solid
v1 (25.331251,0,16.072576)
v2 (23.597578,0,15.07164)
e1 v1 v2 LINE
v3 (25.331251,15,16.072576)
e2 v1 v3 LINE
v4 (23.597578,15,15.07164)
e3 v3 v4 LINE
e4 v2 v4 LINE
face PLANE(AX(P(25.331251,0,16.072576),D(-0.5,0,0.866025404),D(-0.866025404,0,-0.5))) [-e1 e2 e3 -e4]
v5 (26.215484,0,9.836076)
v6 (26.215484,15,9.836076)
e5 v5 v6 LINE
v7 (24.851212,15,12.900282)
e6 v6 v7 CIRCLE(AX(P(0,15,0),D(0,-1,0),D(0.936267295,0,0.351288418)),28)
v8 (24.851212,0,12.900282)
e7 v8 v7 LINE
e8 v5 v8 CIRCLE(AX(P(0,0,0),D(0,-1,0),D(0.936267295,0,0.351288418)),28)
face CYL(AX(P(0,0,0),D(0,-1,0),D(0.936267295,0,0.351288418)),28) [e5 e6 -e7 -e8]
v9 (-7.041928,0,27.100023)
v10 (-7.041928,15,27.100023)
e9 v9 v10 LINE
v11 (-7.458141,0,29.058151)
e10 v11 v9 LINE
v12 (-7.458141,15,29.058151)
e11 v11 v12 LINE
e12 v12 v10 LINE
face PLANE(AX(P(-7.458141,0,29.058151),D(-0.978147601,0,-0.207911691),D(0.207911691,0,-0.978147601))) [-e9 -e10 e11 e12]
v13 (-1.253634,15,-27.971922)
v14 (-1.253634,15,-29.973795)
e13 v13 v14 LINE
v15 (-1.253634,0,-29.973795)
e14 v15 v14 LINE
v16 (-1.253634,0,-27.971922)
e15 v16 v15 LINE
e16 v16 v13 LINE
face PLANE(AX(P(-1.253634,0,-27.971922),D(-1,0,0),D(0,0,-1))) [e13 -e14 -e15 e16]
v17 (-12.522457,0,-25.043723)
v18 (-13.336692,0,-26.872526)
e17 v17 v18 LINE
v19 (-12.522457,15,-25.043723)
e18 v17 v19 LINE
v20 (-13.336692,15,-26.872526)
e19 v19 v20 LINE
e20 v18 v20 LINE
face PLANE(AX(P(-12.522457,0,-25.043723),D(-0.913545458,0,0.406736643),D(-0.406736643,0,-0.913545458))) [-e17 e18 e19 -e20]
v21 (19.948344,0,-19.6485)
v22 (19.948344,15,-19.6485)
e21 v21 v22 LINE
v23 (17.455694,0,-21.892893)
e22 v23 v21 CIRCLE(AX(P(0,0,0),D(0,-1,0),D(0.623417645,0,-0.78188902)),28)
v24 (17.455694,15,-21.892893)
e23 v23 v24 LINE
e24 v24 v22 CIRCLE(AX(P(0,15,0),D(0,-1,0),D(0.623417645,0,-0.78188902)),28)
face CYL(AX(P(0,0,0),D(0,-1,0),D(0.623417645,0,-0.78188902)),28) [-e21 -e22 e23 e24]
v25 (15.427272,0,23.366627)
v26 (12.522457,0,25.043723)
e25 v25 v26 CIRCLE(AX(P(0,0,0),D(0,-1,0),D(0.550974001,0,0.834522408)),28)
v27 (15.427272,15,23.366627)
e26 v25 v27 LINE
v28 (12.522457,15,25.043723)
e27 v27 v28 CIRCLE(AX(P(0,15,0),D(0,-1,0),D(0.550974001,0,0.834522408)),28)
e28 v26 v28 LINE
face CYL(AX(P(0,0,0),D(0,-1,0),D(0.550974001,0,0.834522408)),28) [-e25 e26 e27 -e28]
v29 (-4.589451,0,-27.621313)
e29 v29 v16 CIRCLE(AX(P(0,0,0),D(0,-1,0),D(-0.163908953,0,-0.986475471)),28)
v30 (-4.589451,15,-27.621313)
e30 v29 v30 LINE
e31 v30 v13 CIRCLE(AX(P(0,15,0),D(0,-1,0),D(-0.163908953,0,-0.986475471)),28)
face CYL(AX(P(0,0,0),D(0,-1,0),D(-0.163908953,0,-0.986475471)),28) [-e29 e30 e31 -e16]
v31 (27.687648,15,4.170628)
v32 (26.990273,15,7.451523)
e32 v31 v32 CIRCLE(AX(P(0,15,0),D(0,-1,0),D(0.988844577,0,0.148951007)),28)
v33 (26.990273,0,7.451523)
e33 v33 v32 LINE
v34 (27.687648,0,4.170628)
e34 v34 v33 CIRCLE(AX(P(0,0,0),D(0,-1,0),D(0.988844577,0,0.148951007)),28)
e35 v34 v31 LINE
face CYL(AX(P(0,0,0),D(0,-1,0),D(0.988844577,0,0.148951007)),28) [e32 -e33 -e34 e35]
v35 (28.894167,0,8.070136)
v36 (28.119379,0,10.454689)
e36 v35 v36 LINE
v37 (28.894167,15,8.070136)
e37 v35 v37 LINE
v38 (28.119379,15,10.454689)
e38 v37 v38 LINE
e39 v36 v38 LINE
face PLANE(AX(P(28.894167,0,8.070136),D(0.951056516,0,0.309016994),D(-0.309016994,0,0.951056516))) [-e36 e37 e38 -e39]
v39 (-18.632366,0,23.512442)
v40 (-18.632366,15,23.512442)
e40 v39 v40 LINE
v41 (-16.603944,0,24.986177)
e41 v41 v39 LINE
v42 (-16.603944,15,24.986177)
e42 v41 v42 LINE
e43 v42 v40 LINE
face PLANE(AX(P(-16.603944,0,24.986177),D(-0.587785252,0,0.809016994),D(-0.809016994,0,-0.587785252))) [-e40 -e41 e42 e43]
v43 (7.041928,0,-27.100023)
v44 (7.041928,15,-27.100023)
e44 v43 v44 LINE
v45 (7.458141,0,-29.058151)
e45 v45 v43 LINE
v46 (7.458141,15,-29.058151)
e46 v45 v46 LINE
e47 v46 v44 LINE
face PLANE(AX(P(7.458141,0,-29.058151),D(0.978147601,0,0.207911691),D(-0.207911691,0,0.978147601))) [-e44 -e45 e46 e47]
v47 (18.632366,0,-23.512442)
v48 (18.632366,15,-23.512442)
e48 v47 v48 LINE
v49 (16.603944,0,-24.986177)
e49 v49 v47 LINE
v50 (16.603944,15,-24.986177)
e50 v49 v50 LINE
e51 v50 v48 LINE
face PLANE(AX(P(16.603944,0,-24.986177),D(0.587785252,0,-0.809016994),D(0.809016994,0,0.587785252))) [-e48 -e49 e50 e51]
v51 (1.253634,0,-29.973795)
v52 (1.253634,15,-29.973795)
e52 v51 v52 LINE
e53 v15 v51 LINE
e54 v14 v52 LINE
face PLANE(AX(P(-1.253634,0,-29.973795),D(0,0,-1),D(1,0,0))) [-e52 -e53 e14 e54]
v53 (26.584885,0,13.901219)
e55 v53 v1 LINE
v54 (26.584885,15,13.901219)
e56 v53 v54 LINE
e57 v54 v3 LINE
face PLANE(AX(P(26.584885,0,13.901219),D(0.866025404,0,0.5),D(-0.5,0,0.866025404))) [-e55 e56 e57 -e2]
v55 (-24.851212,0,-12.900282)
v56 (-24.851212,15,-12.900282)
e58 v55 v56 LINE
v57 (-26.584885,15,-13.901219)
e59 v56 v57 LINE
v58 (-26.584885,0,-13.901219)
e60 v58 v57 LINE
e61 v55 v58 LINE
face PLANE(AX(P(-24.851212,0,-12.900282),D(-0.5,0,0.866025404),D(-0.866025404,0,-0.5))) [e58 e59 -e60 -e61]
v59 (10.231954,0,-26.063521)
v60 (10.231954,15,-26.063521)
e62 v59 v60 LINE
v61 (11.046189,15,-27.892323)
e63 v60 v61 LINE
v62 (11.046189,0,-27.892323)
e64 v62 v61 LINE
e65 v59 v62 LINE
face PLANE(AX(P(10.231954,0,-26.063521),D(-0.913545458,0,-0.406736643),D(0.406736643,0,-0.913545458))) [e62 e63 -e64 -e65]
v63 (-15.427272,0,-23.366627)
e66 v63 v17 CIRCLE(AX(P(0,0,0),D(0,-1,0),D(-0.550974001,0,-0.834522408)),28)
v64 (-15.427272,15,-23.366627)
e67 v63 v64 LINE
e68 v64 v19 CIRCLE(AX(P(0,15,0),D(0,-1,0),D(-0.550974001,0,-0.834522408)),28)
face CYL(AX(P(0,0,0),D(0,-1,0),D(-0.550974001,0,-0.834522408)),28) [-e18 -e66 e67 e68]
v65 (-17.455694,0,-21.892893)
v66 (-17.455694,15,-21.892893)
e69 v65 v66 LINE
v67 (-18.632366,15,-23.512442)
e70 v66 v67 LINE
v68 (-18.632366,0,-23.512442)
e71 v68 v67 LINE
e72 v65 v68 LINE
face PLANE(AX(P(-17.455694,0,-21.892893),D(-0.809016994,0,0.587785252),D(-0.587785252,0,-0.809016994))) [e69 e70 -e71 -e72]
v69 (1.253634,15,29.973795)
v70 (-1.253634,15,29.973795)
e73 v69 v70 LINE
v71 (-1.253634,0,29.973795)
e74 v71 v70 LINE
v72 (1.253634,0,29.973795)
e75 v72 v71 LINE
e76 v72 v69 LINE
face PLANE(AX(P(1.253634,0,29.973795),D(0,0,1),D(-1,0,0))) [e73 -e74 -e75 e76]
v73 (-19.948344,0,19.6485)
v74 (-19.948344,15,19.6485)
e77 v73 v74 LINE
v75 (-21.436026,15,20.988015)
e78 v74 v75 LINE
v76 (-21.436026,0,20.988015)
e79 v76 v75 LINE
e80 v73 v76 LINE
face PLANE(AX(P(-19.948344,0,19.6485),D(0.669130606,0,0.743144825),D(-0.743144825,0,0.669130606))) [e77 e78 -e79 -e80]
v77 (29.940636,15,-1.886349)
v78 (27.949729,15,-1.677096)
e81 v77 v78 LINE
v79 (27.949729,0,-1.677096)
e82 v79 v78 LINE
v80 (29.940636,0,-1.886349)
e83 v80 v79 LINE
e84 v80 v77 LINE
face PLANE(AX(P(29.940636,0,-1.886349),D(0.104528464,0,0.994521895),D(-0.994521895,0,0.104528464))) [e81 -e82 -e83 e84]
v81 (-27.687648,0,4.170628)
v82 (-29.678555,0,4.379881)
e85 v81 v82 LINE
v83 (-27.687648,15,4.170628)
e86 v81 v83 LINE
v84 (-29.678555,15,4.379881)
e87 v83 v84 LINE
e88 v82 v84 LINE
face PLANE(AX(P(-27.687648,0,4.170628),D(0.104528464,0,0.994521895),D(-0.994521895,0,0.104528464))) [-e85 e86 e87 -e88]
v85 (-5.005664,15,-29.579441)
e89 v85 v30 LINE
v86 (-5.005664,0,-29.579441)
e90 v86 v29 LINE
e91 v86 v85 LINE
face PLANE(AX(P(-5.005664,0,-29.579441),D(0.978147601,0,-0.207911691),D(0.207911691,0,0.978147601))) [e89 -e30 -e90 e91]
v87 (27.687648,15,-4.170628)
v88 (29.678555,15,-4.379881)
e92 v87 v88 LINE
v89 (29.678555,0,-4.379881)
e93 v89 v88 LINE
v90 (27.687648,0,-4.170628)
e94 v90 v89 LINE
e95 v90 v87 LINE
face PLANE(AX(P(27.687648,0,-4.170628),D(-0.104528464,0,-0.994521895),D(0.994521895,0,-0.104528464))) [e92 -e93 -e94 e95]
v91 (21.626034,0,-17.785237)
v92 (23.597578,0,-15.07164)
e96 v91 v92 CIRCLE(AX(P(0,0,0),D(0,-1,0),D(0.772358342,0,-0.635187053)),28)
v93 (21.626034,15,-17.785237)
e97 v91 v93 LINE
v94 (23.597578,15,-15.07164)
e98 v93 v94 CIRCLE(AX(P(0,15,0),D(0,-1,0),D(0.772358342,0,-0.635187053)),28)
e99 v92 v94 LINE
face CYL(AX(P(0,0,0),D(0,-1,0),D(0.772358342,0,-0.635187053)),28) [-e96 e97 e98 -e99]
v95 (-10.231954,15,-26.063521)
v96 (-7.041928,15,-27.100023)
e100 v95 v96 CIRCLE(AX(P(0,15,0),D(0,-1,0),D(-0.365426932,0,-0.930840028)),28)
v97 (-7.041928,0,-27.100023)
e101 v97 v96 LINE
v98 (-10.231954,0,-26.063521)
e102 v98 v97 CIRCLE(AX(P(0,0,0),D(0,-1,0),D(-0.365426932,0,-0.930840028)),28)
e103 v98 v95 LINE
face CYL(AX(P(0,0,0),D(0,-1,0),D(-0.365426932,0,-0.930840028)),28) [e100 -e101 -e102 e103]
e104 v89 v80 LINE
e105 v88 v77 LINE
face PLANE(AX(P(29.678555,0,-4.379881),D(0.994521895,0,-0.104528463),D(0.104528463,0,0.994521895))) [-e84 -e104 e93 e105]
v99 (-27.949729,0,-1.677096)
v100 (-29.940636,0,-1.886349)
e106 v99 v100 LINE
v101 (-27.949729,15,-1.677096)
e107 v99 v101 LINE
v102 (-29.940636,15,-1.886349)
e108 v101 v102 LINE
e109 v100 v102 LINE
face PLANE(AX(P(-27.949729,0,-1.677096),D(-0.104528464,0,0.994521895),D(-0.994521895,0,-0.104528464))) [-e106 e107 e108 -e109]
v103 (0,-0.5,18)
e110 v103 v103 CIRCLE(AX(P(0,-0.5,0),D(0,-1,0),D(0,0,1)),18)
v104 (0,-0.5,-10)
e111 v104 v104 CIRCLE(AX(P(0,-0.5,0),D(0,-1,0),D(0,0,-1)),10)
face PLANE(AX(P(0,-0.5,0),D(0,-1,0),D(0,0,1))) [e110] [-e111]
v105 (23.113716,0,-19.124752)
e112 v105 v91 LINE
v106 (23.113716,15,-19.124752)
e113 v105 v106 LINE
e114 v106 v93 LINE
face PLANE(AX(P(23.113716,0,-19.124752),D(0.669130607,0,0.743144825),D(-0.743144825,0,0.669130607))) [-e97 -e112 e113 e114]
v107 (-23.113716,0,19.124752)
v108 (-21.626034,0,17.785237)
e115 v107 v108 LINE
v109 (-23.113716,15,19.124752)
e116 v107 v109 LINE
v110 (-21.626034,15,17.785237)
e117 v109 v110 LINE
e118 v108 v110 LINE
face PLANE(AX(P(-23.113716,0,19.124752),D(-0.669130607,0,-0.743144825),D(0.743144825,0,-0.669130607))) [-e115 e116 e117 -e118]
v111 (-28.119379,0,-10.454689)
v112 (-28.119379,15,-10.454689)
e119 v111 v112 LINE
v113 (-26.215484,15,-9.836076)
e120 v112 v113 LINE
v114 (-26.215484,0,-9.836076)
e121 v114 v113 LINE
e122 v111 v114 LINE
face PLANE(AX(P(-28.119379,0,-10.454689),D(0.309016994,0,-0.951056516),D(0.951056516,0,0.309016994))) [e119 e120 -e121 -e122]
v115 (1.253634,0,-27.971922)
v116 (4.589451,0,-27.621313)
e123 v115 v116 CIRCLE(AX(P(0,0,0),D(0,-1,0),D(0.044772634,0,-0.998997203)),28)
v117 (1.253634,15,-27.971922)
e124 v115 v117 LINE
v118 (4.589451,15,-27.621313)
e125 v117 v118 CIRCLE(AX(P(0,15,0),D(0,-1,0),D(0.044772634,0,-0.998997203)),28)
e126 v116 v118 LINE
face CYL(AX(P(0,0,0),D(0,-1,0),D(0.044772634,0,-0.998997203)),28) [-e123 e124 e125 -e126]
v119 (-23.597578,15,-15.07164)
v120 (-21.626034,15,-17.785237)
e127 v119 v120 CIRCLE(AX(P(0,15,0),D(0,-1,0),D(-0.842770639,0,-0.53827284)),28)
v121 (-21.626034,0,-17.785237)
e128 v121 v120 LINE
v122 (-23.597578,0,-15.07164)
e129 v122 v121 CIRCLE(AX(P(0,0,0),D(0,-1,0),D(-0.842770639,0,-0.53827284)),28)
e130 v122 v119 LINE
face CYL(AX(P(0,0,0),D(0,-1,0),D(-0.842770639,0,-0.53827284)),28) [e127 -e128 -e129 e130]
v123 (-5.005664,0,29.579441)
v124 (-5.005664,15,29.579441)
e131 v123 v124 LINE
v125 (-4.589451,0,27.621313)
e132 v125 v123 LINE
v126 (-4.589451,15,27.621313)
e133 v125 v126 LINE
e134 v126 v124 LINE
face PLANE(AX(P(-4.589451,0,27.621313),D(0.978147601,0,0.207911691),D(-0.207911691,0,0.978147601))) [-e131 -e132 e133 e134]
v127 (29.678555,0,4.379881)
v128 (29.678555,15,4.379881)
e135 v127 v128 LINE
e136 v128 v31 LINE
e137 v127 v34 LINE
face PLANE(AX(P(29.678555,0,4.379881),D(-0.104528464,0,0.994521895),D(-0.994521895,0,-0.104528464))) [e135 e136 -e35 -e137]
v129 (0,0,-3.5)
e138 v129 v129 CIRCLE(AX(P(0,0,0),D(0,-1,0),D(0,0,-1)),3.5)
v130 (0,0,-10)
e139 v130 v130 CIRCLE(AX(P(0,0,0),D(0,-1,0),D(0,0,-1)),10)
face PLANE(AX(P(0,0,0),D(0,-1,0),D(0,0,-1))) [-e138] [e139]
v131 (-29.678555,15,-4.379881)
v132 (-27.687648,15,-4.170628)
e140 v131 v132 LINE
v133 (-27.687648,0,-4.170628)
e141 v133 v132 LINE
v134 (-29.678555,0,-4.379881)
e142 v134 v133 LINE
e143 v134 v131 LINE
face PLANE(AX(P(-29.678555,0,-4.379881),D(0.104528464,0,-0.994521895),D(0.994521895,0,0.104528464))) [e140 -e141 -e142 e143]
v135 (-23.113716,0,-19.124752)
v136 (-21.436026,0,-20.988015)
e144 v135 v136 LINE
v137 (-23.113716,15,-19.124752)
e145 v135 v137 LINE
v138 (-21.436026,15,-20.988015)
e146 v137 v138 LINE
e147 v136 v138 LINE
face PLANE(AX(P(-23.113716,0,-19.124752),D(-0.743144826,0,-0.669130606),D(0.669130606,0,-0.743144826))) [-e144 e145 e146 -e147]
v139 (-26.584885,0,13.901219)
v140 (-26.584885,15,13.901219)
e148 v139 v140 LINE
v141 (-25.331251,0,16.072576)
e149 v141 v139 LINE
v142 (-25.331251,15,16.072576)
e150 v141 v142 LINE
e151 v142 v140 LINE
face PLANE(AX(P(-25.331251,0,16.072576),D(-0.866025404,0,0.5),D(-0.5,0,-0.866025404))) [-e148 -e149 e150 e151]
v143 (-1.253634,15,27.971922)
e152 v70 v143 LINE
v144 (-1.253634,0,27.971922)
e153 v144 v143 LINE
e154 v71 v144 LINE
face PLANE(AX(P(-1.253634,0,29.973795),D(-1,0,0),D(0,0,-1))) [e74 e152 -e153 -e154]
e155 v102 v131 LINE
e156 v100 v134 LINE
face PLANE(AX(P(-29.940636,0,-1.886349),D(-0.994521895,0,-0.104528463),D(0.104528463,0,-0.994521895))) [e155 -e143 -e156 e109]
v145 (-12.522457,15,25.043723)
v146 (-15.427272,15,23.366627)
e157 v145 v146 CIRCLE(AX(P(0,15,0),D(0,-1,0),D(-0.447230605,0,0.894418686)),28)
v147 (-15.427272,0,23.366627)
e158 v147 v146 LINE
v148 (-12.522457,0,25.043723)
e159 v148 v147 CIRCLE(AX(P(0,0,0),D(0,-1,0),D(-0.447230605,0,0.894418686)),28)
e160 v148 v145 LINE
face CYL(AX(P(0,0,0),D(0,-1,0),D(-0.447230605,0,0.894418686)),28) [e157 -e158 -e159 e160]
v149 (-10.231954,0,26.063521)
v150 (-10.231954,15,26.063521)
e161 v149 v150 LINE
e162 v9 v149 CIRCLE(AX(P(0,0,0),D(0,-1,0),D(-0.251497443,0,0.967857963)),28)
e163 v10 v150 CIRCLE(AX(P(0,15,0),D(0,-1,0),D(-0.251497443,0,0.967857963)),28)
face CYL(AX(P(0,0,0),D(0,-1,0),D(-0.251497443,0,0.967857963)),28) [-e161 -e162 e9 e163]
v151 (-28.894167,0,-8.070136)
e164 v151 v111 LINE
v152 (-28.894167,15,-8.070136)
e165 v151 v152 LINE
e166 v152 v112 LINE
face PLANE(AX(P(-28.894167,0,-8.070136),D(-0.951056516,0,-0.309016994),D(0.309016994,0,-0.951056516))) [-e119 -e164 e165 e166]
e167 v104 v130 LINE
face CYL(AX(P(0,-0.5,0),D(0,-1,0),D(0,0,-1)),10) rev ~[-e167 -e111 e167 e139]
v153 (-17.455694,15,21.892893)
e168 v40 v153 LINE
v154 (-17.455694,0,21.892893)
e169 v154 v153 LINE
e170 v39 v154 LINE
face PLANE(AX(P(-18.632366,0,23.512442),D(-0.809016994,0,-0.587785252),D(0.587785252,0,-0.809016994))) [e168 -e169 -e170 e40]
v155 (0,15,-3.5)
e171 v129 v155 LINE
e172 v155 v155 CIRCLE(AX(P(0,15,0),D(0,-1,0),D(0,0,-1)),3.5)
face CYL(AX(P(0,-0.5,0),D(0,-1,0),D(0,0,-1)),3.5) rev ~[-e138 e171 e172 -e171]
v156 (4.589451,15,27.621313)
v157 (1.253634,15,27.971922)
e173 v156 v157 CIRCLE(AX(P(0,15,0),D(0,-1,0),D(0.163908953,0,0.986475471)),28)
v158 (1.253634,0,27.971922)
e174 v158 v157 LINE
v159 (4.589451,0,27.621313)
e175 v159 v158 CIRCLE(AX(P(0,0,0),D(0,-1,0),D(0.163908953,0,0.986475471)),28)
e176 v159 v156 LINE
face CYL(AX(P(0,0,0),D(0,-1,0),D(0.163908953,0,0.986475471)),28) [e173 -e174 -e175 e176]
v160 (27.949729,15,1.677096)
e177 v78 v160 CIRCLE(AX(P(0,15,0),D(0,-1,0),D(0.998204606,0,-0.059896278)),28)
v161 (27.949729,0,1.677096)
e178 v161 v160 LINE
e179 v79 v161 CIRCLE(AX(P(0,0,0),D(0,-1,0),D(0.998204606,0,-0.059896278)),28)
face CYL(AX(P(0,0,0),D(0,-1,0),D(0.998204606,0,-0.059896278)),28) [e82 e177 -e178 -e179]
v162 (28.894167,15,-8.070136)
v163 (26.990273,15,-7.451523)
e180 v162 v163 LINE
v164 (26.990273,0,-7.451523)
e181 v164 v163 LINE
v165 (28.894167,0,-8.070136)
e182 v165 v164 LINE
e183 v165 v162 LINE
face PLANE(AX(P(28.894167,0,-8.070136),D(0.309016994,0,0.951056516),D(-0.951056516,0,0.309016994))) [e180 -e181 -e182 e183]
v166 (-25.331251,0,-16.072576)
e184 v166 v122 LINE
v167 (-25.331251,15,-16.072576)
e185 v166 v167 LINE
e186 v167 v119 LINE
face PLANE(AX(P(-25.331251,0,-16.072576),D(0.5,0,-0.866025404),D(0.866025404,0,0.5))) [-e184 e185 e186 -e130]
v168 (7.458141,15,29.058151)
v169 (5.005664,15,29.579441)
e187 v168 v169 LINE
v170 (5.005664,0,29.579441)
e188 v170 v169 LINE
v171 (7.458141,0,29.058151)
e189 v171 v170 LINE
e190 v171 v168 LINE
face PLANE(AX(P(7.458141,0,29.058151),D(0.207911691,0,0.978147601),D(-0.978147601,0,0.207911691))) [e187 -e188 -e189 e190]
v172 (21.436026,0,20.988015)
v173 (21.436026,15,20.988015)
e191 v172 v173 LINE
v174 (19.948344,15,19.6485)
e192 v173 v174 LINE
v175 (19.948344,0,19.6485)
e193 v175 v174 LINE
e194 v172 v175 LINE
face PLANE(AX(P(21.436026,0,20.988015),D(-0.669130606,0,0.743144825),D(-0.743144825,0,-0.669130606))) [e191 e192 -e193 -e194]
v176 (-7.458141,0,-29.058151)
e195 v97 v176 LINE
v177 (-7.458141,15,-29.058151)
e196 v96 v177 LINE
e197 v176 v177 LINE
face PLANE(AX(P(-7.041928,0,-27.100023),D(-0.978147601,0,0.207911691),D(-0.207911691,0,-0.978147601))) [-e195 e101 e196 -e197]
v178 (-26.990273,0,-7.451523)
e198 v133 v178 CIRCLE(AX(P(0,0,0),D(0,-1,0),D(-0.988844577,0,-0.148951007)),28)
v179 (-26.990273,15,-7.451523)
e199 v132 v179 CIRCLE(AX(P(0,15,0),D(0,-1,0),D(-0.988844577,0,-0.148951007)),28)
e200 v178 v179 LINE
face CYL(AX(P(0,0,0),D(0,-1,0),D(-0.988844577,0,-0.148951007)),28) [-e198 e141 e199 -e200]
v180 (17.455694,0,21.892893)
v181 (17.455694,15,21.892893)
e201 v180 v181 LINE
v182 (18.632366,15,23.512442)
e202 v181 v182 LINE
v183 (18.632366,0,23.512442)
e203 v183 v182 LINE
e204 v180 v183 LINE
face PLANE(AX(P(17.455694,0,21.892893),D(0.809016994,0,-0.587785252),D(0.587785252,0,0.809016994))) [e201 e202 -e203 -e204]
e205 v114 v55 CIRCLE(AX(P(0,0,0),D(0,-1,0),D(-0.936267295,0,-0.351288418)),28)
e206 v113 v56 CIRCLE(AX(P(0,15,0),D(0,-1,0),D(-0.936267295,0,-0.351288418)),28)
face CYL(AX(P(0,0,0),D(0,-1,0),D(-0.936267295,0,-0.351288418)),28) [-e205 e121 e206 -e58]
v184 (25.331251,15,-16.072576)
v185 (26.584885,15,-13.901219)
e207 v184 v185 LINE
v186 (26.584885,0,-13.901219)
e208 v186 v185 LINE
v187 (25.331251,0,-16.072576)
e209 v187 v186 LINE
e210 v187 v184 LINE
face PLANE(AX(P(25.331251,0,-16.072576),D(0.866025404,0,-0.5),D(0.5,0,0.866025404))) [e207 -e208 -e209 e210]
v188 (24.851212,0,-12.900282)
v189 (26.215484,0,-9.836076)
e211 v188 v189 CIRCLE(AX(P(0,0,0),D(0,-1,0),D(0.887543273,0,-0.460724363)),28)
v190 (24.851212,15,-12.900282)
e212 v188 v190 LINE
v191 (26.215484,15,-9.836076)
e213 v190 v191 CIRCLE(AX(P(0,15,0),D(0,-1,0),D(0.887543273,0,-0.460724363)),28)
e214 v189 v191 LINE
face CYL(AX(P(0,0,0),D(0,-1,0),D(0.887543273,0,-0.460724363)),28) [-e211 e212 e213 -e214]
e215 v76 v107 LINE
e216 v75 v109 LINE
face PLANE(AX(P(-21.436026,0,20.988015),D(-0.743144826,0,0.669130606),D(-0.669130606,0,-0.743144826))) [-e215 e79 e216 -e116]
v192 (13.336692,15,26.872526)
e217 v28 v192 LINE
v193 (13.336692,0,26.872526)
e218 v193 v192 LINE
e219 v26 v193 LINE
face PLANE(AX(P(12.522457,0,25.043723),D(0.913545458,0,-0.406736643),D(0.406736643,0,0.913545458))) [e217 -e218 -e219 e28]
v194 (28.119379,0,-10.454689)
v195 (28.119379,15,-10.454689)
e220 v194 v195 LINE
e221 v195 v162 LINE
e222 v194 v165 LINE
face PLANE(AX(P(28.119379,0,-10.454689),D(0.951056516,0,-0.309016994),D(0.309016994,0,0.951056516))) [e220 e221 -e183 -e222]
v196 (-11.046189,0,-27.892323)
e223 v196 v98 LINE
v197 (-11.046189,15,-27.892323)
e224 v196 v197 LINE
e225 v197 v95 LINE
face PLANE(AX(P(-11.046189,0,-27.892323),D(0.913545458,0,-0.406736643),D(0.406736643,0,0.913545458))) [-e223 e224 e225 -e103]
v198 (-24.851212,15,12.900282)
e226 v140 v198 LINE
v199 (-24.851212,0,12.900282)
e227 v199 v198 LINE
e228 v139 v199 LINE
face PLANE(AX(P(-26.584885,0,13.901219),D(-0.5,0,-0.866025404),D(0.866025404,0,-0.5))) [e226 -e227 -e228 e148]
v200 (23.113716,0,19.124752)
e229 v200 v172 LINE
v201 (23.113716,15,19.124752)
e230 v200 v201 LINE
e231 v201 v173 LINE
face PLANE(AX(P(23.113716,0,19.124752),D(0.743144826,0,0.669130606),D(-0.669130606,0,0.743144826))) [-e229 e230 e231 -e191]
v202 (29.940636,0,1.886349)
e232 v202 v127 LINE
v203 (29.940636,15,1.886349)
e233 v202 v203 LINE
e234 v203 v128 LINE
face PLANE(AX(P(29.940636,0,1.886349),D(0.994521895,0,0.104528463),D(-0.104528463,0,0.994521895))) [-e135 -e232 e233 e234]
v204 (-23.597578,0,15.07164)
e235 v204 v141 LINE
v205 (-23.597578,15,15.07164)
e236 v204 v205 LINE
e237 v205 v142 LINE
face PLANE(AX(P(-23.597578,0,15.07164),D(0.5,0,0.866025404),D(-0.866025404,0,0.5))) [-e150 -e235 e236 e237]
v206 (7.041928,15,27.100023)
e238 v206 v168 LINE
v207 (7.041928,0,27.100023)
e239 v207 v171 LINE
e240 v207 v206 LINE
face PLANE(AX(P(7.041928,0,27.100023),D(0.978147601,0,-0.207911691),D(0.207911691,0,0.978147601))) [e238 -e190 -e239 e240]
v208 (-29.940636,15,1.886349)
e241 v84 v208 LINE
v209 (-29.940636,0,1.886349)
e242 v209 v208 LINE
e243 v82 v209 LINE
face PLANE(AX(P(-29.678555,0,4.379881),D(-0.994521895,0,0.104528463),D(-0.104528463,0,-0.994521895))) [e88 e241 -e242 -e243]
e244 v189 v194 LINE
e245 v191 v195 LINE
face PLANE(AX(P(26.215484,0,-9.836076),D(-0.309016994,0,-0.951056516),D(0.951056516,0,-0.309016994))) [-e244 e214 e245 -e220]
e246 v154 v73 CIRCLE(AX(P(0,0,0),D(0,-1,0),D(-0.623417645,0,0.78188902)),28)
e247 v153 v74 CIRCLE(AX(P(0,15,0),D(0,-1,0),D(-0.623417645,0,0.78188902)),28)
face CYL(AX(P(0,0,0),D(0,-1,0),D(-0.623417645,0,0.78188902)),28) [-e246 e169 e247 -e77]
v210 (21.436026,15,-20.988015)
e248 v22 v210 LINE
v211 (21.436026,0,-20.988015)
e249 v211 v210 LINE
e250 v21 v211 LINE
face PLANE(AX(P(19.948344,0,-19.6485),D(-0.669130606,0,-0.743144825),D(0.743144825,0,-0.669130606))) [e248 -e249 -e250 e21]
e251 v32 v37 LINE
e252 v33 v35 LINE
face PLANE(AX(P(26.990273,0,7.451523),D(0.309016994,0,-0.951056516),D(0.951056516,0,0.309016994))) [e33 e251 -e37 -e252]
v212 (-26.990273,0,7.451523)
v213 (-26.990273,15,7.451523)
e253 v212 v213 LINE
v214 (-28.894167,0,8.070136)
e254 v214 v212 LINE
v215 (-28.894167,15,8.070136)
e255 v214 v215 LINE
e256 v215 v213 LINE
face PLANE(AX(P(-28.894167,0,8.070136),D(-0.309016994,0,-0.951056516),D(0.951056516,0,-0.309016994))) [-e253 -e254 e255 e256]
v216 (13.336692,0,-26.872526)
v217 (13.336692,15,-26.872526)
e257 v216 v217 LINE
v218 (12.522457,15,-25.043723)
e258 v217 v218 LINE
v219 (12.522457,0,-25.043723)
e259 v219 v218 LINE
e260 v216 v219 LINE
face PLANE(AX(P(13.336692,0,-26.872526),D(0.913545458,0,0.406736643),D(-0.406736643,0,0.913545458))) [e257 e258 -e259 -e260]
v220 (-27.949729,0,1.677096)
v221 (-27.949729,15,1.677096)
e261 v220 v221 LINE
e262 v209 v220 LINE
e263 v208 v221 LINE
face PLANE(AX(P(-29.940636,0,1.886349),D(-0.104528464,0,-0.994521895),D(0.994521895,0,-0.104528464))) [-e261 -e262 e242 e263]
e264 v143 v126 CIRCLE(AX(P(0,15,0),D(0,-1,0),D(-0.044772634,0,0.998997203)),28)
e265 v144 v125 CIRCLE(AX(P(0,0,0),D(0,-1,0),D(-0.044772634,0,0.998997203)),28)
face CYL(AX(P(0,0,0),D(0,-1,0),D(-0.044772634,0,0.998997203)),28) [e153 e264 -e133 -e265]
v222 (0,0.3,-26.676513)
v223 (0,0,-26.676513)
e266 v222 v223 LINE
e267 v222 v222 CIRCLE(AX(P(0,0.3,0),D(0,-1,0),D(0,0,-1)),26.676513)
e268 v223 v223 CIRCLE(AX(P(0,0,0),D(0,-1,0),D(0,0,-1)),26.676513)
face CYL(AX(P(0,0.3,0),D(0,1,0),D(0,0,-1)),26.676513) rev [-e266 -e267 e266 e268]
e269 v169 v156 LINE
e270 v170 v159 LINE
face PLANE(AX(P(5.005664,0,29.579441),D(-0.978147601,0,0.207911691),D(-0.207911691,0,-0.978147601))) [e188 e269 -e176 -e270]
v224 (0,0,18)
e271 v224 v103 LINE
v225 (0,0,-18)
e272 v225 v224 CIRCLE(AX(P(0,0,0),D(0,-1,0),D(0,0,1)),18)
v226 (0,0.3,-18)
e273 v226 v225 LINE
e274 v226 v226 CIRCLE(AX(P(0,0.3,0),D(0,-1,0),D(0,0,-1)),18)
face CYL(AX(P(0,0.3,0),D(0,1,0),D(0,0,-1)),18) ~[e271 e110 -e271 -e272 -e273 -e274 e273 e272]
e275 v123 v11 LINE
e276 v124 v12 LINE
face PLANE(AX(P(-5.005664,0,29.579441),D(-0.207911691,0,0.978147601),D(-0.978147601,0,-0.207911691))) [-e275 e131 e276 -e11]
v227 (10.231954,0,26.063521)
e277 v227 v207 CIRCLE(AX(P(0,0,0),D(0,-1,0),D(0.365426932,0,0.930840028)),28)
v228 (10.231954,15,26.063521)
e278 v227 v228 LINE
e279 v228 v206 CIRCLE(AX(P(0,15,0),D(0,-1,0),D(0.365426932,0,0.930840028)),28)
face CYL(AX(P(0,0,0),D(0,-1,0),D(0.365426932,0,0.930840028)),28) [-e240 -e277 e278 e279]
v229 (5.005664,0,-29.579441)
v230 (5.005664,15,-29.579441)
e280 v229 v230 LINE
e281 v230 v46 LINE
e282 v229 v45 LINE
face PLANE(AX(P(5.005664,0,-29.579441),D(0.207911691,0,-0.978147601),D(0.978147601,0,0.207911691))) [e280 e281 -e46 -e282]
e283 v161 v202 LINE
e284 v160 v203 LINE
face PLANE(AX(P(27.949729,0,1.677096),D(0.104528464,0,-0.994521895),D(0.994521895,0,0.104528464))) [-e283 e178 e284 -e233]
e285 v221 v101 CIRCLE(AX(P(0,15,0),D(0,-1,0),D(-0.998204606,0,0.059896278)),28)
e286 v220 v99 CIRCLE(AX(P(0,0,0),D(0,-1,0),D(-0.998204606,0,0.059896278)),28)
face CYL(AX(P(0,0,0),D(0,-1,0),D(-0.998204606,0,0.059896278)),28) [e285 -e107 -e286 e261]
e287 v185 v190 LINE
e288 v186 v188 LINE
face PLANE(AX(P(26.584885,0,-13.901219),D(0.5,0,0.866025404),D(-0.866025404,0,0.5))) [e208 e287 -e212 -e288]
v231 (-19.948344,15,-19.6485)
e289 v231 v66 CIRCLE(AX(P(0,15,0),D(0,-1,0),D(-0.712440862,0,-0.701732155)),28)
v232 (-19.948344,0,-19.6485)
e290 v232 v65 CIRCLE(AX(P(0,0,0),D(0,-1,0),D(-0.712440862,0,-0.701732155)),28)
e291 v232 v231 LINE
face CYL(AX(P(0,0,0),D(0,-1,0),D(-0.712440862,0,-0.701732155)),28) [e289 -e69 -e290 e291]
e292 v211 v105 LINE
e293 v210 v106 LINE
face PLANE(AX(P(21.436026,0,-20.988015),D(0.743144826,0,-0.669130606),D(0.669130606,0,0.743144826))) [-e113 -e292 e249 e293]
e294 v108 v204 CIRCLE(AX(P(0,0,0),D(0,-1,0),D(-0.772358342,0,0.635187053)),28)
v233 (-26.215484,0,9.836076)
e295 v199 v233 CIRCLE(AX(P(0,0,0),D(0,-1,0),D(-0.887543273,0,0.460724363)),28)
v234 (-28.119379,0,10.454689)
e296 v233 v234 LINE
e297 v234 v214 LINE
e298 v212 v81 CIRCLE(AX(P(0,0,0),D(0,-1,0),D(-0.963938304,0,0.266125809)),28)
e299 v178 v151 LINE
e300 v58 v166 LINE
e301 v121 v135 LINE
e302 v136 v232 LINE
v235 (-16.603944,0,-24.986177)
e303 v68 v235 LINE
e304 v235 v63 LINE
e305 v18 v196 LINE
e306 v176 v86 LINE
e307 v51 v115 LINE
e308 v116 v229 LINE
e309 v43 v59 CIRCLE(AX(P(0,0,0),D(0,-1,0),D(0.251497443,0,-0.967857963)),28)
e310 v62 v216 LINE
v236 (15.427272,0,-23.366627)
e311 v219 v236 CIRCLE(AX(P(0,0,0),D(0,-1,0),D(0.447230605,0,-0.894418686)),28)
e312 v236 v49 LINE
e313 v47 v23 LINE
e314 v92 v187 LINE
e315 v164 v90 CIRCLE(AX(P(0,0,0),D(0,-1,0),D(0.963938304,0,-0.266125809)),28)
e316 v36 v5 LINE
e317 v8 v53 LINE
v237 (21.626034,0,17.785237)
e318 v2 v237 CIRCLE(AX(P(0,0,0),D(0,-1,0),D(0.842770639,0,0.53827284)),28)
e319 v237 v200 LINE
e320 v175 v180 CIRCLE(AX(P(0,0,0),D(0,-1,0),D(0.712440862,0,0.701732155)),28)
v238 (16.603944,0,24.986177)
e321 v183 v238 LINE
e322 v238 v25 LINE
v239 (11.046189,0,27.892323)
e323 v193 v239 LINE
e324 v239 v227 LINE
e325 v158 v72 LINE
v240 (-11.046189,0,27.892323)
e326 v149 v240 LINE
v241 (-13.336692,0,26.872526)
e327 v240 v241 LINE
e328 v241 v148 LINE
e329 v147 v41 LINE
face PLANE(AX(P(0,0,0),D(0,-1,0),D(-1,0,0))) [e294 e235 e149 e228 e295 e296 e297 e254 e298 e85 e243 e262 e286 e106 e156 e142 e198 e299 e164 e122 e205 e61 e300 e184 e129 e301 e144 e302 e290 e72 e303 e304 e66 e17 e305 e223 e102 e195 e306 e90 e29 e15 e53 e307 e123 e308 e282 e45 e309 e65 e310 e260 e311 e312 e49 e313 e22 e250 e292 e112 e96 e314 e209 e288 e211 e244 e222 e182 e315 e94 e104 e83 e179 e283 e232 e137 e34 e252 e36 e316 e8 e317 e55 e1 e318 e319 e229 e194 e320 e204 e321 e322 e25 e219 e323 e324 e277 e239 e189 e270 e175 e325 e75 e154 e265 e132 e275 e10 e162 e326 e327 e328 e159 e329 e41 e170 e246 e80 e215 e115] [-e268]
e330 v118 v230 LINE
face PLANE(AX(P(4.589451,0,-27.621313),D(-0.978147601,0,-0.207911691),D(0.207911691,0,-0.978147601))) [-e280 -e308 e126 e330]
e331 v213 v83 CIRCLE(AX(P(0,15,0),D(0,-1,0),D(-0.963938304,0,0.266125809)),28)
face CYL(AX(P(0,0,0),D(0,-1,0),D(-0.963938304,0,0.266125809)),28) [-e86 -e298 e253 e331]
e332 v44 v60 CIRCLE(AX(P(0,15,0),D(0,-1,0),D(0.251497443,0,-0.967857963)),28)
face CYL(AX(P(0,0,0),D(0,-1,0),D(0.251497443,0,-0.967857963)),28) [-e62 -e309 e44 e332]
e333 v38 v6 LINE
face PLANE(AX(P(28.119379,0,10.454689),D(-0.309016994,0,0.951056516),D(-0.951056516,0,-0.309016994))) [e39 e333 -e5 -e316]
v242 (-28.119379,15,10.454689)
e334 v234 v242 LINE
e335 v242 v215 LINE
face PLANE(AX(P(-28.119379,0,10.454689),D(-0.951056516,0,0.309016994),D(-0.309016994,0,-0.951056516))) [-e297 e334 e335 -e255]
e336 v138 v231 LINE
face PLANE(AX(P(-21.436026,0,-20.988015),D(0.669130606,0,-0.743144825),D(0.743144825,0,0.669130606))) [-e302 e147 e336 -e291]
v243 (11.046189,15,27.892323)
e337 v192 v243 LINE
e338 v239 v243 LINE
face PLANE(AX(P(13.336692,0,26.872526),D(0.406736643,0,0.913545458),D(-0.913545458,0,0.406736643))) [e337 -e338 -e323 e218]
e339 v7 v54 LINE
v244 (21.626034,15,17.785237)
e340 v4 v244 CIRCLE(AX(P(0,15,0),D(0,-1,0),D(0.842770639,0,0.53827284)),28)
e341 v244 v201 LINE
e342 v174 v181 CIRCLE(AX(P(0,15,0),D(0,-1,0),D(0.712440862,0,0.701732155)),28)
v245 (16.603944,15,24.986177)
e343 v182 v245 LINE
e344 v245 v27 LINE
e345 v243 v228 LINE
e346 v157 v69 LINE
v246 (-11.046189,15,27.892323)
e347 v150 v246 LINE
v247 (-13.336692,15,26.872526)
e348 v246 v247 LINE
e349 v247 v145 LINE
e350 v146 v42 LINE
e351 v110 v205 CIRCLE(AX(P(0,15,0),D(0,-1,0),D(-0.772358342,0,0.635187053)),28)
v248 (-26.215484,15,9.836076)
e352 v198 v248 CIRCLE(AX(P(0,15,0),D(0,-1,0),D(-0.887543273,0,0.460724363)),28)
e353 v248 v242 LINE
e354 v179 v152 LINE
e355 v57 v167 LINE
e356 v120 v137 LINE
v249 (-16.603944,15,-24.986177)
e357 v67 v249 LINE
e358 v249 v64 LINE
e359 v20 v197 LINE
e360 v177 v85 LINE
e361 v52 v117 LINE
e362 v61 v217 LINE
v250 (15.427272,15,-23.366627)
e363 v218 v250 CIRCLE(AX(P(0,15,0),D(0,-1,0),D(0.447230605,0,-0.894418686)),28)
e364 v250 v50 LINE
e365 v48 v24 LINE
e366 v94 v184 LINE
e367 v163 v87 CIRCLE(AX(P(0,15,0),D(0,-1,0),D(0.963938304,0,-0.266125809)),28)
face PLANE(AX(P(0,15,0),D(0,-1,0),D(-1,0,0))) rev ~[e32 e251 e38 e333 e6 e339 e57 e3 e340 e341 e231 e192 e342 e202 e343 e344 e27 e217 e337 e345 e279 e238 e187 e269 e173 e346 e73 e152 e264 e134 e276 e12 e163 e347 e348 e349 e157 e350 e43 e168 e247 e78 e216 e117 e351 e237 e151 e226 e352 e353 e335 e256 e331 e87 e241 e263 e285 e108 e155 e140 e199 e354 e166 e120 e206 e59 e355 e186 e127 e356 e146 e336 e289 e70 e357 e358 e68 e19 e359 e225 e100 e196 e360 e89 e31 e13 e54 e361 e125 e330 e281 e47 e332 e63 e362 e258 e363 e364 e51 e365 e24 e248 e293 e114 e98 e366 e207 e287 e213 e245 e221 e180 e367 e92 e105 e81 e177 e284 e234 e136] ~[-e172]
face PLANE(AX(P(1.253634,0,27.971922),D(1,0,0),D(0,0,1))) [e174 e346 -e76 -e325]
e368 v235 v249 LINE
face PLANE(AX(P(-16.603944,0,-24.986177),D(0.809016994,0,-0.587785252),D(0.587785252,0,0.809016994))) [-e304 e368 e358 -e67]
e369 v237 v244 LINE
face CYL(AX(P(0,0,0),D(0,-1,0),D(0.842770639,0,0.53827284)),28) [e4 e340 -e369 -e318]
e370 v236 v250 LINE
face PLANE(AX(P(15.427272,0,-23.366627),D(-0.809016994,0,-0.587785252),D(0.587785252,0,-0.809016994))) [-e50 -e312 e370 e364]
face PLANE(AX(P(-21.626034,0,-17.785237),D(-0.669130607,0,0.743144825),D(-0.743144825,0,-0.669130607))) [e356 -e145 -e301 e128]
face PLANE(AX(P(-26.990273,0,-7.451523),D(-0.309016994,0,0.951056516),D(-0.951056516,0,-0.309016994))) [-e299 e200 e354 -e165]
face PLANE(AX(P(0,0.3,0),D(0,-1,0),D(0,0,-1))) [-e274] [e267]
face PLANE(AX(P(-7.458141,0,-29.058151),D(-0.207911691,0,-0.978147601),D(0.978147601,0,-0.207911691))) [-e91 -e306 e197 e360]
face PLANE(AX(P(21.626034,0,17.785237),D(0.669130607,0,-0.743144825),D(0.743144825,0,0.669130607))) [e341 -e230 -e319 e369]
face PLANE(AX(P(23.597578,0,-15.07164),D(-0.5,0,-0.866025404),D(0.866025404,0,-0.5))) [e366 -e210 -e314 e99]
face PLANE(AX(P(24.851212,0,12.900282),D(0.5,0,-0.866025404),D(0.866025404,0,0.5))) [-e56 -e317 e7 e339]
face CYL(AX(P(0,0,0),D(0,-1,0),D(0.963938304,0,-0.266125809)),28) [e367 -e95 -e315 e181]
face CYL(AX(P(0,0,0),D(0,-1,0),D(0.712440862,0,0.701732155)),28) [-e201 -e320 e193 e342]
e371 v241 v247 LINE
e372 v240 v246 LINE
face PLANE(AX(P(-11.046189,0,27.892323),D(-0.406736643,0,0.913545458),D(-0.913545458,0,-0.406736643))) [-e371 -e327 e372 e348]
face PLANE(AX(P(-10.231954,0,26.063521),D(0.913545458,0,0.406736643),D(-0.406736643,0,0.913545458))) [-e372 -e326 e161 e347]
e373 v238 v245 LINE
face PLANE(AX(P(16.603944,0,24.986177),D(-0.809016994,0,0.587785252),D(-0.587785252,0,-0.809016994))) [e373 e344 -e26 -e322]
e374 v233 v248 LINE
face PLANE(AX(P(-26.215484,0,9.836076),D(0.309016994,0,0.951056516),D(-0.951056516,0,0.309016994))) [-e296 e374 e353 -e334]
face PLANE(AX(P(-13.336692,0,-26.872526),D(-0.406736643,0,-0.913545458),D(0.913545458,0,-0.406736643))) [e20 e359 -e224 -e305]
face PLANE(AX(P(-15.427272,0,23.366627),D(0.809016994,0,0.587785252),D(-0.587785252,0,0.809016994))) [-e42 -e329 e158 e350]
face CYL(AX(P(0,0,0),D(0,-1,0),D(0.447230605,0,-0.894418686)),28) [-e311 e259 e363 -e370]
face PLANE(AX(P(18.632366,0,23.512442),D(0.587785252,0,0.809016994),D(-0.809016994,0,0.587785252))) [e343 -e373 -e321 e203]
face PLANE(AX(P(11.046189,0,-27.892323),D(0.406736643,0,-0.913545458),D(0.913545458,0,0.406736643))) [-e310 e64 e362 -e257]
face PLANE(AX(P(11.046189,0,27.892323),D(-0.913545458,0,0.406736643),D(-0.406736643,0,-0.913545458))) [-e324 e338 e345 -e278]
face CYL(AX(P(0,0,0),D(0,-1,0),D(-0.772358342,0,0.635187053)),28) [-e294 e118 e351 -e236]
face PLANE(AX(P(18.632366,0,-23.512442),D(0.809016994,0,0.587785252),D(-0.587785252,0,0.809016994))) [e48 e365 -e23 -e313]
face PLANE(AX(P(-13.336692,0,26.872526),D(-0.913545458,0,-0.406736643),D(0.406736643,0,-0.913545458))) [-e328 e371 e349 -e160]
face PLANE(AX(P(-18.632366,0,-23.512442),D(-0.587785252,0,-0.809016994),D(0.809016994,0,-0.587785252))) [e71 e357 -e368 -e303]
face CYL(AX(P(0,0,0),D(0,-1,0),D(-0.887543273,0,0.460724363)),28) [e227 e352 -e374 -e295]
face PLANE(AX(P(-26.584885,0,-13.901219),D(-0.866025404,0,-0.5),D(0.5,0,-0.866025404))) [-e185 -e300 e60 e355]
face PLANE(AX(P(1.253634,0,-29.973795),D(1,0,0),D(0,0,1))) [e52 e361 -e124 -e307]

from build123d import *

# Parameters (mm, degrees)
SALIENTE_EXTRUIR1_DEPTH = 15
CROQUIS3_R              = 18
SALIENTE_EXTRUIR2_DEPTH = 0.5
CROQUIS4_R              = 3.5
CORTAR_EXTRUIR1_DEPTH   = 24.5
CROQUIS5_R              = 10
CORTAR_EXTRUIR2_DEPTH   = 0.5
CORTAR_EXTRUIR3_START   = -0.3
CROQUIS6_R              = 26.676513241
CROQUIS6_R_2            = 18
CORTAR_EXTRUIR3_DEPTH   = 0.3


with BuildPart() as part:
    # Croquis2 → Saliente-Extruir1 (new body)
    with BuildSketch(Plane(origin=(0, 0, 0), x_dir=(1, 0, 0), z_dir=(0, 1, 0))):
        with BuildLine():
            Line((-1.253633745, 27.971921679), (-1.253633745, 29.973795262))
            Line((-1.253633745, 29.973795262), (1.253633745, 29.973795262))
            Line((1.253633745, 29.973795262), (1.253633745, 27.971921679))
            ThreePointArc((1.253633745, 27.971921679), (2.926796971, 27.84661307), (4.589450692, 27.62131319))
            Line((4.589450692, 27.62131319), (5.005663613, 29.579441032))
            Line((5.005663613, 29.579441032), (7.458141293, 29.058150809))
            Line((7.458141293, 29.058150809), (7.041928372, 27.100022967))
            ThreePointArc((7.041928372, 27.100022967), (8.652475842, 26.629582456), (10.231954111, 26.063520773))
            Line((10.231954111, 26.063520773), (11.046189452, 27.892323292))
            Line((11.046189452, 27.892323292), (13.336692279, 26.872525729))
            Line((13.336692279, 26.872525729), (12.522456938, 25.04372321))
            ThreePointArc((12.522456938, 25.04372321), (14, 24.248711306), (15.427272037, 23.366627431))
            Line((15.427272037, 23.366627431), (16.603943806, 24.98617718))
            Line((16.603943806, 24.98617718), (18.632365815, 23.512442326))
            Line((18.632365815, 23.512442326), (17.455694046, 21.892892577))
            ThreePointArc((17.455694046, 21.892892577), (18.735656978, 20.808055113), (19.948344146, 19.648500345))
            Line((19.948344146, 19.648500345), (21.436026141, 20.98801523))
            Line((21.436026141, 20.98801523), (23.113715557, 19.124752368))
            Line((23.113715557, 19.124752368), (21.626033563, 17.785237483))
            ThreePointArc((21.626033563, 17.785237483), (22.652475842, 16.457987064), (23.597577894, 15.07163951))
            Line((23.597577894, 15.07163951), (25.331251272, 16.072576302))
            Line((25.331251272, 16.072576302), (26.584885018, 13.901218961))
            Line((26.584885018, 13.901218961), (24.85121164, 12.900282169))
            ThreePointArc((24.85121164, 12.900282169), (25.579272814, 11.388626006), (26.215484254, 9.836075707))
            Line((26.215484254, 9.836075707), (28.11937917, 10.454688665))
            Line((28.11937917, 10.454688665), (28.894167434, 8.070135579))
            Line((28.894167434, 8.070135579), (26.990272518, 7.451522622))
            ThreePointArc((26.990272518, 7.451522622), (27.388132821, 5.821527343), (27.687648157, 4.170628196))
            Line((27.687648157, 4.170628196), (29.678555267, 4.379880966))
            Line((29.678555267, 4.379880966), (29.940636085, 1.886348549))
            Line((29.940636085, 1.886348549), (27.949728974, 1.677095779))
            ThreePointArc((27.949728974, 1.677095779), (28, 0), (27.949728974, -1.677095779))
            Line((27.949728974, -1.677095779), (29.940636085, -1.886348549))
            Line((29.940636085, -1.886348549), (29.678555267, -4.379880966))
            Line((29.678555267, -4.379880966), (27.687648157, -4.170628196))
            ThreePointArc((27.687648157, -4.170628196), (27.388132821, -5.821527343), (26.990272518, -7.451522622))
            Line((26.990272518, -7.451522622), (28.894167434, -8.070135579))
            Line((28.894167434, -8.070135579), (28.11937917, -10.454688665))
            Line((28.11937917, -10.454688665), (26.215484254, -9.836075707))
            ThreePointArc((26.215484254, -9.836075707), (25.579272814, -11.388626006), (24.85121164, -12.900282169))
            Line((24.85121164, -12.900282169), (26.584885018, -13.901218961))
            Line((26.584885018, -13.901218961), (25.331251272, -16.072576302))
            Line((25.331251272, -16.072576302), (23.597577894, -15.07163951))
            ThreePointArc((23.597577894, -15.07163951), (22.652475842, -16.457987064), (21.626033563, -17.785237483))
            Line((21.626033563, -17.785237483), (23.113715557, -19.124752368))
            Line((23.113715557, -19.124752368), (21.436026141, -20.98801523))
            Line((21.436026141, -20.98801523), (19.948344146, -19.648500345))
            ThreePointArc((19.948344146, -19.648500345), (18.735656978, -20.808055113), (17.455694046, -21.892892577))
            Line((17.455694046, -21.892892577), (18.632365815, -23.512442326))
            Line((18.632365815, -23.512442326), (16.603943806, -24.98617718))
            Line((16.603943806, -24.98617718), (15.427272037, -23.366627431))
            ThreePointArc((15.427272037, -23.366627431), (14, -24.248711306), (12.522456938, -25.04372321))
            Line((12.522456938, -25.04372321), (13.336692279, -26.872525729))
            Line((13.336692279, -26.872525729), (11.046189452, -27.892323292))
            Line((11.046189452, -27.892323292), (10.231954111, -26.063520773))
            ThreePointArc((10.231954111, -26.063520773), (8.652475842, -26.629582456), (7.041928372, -27.100022967))
            Line((7.041928372, -27.100022967), (7.458141293, -29.058150809))
            Line((7.458141293, -29.058150809), (5.005663613, -29.579441032))
            Line((5.005663613, -29.579441032), (4.589450692, -27.62131319))
            ThreePointArc((4.589450692, -27.62131319), (2.926796971, -27.84661307), (1.253633745, -27.971921679))
            Line((1.253633745, -27.971921679), (1.253633745, -29.973795262))
            Line((1.253633745, -29.973795262), (-1.253633745, -29.973795262))
            Line((-1.253633745, -29.973795262), (-1.253633745, -27.971921679))
            ThreePointArc((-1.253633745, -27.971921679), (-2.926796971, -27.84661307), (-4.589450692, -27.62131319))
            Line((-4.589450692, -27.62131319), (-5.005663613, -29.579441032))
            Line((-5.005663613, -29.579441032), (-7.458141293, -29.058150809))
            Line((-7.458141293, -29.058150809), (-7.041928372, -27.100022967))
            ThreePointArc((-7.041928372, -27.100022967), (-8.652475842, -26.629582456), (-10.231954111, -26.063520773))
            Line((-10.231954111, -26.063520773), (-11.046189452, -27.892323292))
            Line((-11.046189452, -27.892323292), (-13.336692279, -26.872525729))
            Line((-13.336692279, -26.872525729), (-12.522456938, -25.04372321))
            ThreePointArc((-12.522456938, -25.04372321), (-14, -24.248711306), (-15.427272037, -23.366627431))
            Line((-15.427272037, -23.366627431), (-16.603943806, -24.98617718))
            Line((-16.603943806, -24.98617718), (-18.632365815, -23.512442326))
            Line((-18.632365815, -23.512442326), (-17.455694046, -21.892892577))
            ThreePointArc((-17.455694046, -21.892892577), (-18.735656978, -20.808055113), (-19.948344146, -19.648500345))
            Line((-19.948344146, -19.648500345), (-21.436026141, -20.98801523))
            Line((-21.436026141, -20.98801523), (-23.113715557, -19.124752368))
            Line((-23.113715557, -19.124752368), (-21.626033563, -17.785237483))
            ThreePointArc((-21.626033563, -17.785237483), (-22.652475842, -16.457987064), (-23.597577894, -15.07163951))
            Line((-23.597577894, -15.07163951), (-25.331251272, -16.072576302))
            Line((-25.331251272, -16.072576302), (-26.584885018, -13.901218961))
            Line((-26.584885018, -13.901218961), (-24.85121164, -12.900282169))
            ThreePointArc((-24.85121164, -12.900282169), (-25.579272814, -11.388626006), (-26.215484254, -9.836075707))
            Line((-26.215484254, -9.836075707), (-28.11937917, -10.454688665))
            Line((-28.11937917, -10.454688665), (-28.894167434, -8.070135579))
            Line((-28.894167434, -8.070135579), (-26.990272518, -7.451522622))
            ThreePointArc((-26.990272518, -7.451522622), (-27.388132821, -5.821527343), (-27.687648157, -4.170628196))
            Line((-27.687648157, -4.170628196), (-29.678555267, -4.379880966))
            Line((-29.678555267, -4.379880966), (-29.940636085, -1.886348549))
            Line((-29.940636085, -1.886348549), (-27.949728974, -1.677095779))
            ThreePointArc((-27.949728974, -1.677095779), (-28, 0), (-27.949728974, 1.677095779))
            Line((-27.949728974, 1.677095779), (-29.940636085, 1.886348549))
            Line((-29.940636085, 1.886348549), (-29.678555267, 4.379880966))
            Line((-29.678555267, 4.379880966), (-27.687648157, 4.170628196))
            ThreePointArc((-27.687648157, 4.170628196), (-27.388132821, 5.821527343), (-26.990272518, 7.451522622))
            Line((-26.990272518, 7.451522622), (-28.894167434, 8.070135579))
            Line((-28.894167434, 8.070135579), (-28.11937917, 10.454688665))
            Line((-28.11937917, 10.454688665), (-26.215484254, 9.836075707))
            ThreePointArc((-26.215484254, 9.836075707), (-25.579272814, 11.388626006), (-24.85121164, 12.900282169))
            Line((-24.85121164, 12.900282169), (-26.584885018, 13.901218961))
            Line((-26.584885018, 13.901218961), (-25.331251272, 16.072576302))
            Line((-25.331251272, 16.072576302), (-23.597577894, 15.07163951))
            ThreePointArc((-23.597577894, 15.07163951), (-22.652475842, 16.457987064), (-21.626033563, 17.785237483))
            Line((-21.626033563, 17.785237483), (-23.113715557, 19.124752368))
            Line((-23.113715557, 19.124752368), (-21.436026141, 20.98801523))
            Line((-21.436026141, 20.98801523), (-19.948344146, 19.648500345))
            ThreePointArc((-19.948344146, 19.648500345), (-18.735656978, 20.808055113), (-17.455694046, 21.892892577))
            Line((-17.455694046, 21.892892577), (-18.632365815, 23.512442326))
            Line((-18.632365815, 23.512442326), (-16.603943806, 24.98617718))
            Line((-16.603943806, 24.98617718), (-15.427272037, 23.366627431))
            ThreePointArc((-15.427272037, 23.366627431), (-14, 24.248711306), (-12.522456938, 25.04372321))
            Line((-12.522456938, 25.04372321), (-13.336692279, 26.872525729))
            Line((-13.336692279, 26.872525729), (-11.046189452, 27.892323292))
            Line((-11.046189452, 27.892323292), (-10.231954111, 26.063520773))
            ThreePointArc((-10.231954111, 26.063520773), (-8.652475842, 26.629582456), (-7.041928372, 27.100022967))
            Line((-7.041928372, 27.100022967), (-7.458141293, 29.058150809))
            Line((-7.458141293, 29.058150809), (-5.005663613, 29.579441032))
            Line((-5.005663613, 29.579441032), (-4.589450692, 27.62131319))
            ThreePointArc((-4.589450692, 27.62131319), (-2.926796971, 27.84661307), (-1.253633745, 27.971921679))
        make_face()
    extrude(amount=SALIENTE_EXTRUIR1_DEPTH)

    # Croquis3 → Saliente-Extruir2 (add)
    with BuildSketch(Plane.XZ):
        with Locations(Location((0, 0, 0), (0, 0, 90))):
            Circle(CROQUIS3_R)
    extrude(amount=SALIENTE_EXTRUIR2_DEPTH)

    # Croquis4 → Cortar-Extruir1 (cut)
    with BuildSketch(Plane.XZ.offset(0.5)):
        with Locations(Location((0, 0, 0), (0, 0, 270))):
            Circle(CROQUIS4_R)
    extrude(amount=-CORTAR_EXTRUIR1_DEPTH, mode=Mode.SUBTRACT)

    # Croquis5 → Cortar-Extruir2 (cut)
    with BuildSketch(Plane(origin=(0, -0.5, 0), x_dir=(-1, 0, 0), z_dir=(0, -1, 0))):
        with Locations(Location((0, 0, 0), (0, 0, 90))):
            Circle(CROQUIS5_R)
    extrude(amount=-CORTAR_EXTRUIR2_DEPTH, mode=Mode.SUBTRACT)

    # Croquis6 → Cortar-Extruir3 (cut)
    with BuildSketch(Plane.XZ.offset(CORTAR_EXTRUIR3_START)):
        with Locations(Location((0, 0, 0), (0, 0, 270))):
            Circle(CROQUIS6_R)
        with Locations(Location((0, 0, 0), (0, 0, 270))):
            Circle(CROQUIS6_R_2, mode=Mode.SUBTRACT)
    extrude(amount=CORTAR_EXTRUIR3_DEPTH, mode=Mode.SUBTRACT)


solid = part.part
